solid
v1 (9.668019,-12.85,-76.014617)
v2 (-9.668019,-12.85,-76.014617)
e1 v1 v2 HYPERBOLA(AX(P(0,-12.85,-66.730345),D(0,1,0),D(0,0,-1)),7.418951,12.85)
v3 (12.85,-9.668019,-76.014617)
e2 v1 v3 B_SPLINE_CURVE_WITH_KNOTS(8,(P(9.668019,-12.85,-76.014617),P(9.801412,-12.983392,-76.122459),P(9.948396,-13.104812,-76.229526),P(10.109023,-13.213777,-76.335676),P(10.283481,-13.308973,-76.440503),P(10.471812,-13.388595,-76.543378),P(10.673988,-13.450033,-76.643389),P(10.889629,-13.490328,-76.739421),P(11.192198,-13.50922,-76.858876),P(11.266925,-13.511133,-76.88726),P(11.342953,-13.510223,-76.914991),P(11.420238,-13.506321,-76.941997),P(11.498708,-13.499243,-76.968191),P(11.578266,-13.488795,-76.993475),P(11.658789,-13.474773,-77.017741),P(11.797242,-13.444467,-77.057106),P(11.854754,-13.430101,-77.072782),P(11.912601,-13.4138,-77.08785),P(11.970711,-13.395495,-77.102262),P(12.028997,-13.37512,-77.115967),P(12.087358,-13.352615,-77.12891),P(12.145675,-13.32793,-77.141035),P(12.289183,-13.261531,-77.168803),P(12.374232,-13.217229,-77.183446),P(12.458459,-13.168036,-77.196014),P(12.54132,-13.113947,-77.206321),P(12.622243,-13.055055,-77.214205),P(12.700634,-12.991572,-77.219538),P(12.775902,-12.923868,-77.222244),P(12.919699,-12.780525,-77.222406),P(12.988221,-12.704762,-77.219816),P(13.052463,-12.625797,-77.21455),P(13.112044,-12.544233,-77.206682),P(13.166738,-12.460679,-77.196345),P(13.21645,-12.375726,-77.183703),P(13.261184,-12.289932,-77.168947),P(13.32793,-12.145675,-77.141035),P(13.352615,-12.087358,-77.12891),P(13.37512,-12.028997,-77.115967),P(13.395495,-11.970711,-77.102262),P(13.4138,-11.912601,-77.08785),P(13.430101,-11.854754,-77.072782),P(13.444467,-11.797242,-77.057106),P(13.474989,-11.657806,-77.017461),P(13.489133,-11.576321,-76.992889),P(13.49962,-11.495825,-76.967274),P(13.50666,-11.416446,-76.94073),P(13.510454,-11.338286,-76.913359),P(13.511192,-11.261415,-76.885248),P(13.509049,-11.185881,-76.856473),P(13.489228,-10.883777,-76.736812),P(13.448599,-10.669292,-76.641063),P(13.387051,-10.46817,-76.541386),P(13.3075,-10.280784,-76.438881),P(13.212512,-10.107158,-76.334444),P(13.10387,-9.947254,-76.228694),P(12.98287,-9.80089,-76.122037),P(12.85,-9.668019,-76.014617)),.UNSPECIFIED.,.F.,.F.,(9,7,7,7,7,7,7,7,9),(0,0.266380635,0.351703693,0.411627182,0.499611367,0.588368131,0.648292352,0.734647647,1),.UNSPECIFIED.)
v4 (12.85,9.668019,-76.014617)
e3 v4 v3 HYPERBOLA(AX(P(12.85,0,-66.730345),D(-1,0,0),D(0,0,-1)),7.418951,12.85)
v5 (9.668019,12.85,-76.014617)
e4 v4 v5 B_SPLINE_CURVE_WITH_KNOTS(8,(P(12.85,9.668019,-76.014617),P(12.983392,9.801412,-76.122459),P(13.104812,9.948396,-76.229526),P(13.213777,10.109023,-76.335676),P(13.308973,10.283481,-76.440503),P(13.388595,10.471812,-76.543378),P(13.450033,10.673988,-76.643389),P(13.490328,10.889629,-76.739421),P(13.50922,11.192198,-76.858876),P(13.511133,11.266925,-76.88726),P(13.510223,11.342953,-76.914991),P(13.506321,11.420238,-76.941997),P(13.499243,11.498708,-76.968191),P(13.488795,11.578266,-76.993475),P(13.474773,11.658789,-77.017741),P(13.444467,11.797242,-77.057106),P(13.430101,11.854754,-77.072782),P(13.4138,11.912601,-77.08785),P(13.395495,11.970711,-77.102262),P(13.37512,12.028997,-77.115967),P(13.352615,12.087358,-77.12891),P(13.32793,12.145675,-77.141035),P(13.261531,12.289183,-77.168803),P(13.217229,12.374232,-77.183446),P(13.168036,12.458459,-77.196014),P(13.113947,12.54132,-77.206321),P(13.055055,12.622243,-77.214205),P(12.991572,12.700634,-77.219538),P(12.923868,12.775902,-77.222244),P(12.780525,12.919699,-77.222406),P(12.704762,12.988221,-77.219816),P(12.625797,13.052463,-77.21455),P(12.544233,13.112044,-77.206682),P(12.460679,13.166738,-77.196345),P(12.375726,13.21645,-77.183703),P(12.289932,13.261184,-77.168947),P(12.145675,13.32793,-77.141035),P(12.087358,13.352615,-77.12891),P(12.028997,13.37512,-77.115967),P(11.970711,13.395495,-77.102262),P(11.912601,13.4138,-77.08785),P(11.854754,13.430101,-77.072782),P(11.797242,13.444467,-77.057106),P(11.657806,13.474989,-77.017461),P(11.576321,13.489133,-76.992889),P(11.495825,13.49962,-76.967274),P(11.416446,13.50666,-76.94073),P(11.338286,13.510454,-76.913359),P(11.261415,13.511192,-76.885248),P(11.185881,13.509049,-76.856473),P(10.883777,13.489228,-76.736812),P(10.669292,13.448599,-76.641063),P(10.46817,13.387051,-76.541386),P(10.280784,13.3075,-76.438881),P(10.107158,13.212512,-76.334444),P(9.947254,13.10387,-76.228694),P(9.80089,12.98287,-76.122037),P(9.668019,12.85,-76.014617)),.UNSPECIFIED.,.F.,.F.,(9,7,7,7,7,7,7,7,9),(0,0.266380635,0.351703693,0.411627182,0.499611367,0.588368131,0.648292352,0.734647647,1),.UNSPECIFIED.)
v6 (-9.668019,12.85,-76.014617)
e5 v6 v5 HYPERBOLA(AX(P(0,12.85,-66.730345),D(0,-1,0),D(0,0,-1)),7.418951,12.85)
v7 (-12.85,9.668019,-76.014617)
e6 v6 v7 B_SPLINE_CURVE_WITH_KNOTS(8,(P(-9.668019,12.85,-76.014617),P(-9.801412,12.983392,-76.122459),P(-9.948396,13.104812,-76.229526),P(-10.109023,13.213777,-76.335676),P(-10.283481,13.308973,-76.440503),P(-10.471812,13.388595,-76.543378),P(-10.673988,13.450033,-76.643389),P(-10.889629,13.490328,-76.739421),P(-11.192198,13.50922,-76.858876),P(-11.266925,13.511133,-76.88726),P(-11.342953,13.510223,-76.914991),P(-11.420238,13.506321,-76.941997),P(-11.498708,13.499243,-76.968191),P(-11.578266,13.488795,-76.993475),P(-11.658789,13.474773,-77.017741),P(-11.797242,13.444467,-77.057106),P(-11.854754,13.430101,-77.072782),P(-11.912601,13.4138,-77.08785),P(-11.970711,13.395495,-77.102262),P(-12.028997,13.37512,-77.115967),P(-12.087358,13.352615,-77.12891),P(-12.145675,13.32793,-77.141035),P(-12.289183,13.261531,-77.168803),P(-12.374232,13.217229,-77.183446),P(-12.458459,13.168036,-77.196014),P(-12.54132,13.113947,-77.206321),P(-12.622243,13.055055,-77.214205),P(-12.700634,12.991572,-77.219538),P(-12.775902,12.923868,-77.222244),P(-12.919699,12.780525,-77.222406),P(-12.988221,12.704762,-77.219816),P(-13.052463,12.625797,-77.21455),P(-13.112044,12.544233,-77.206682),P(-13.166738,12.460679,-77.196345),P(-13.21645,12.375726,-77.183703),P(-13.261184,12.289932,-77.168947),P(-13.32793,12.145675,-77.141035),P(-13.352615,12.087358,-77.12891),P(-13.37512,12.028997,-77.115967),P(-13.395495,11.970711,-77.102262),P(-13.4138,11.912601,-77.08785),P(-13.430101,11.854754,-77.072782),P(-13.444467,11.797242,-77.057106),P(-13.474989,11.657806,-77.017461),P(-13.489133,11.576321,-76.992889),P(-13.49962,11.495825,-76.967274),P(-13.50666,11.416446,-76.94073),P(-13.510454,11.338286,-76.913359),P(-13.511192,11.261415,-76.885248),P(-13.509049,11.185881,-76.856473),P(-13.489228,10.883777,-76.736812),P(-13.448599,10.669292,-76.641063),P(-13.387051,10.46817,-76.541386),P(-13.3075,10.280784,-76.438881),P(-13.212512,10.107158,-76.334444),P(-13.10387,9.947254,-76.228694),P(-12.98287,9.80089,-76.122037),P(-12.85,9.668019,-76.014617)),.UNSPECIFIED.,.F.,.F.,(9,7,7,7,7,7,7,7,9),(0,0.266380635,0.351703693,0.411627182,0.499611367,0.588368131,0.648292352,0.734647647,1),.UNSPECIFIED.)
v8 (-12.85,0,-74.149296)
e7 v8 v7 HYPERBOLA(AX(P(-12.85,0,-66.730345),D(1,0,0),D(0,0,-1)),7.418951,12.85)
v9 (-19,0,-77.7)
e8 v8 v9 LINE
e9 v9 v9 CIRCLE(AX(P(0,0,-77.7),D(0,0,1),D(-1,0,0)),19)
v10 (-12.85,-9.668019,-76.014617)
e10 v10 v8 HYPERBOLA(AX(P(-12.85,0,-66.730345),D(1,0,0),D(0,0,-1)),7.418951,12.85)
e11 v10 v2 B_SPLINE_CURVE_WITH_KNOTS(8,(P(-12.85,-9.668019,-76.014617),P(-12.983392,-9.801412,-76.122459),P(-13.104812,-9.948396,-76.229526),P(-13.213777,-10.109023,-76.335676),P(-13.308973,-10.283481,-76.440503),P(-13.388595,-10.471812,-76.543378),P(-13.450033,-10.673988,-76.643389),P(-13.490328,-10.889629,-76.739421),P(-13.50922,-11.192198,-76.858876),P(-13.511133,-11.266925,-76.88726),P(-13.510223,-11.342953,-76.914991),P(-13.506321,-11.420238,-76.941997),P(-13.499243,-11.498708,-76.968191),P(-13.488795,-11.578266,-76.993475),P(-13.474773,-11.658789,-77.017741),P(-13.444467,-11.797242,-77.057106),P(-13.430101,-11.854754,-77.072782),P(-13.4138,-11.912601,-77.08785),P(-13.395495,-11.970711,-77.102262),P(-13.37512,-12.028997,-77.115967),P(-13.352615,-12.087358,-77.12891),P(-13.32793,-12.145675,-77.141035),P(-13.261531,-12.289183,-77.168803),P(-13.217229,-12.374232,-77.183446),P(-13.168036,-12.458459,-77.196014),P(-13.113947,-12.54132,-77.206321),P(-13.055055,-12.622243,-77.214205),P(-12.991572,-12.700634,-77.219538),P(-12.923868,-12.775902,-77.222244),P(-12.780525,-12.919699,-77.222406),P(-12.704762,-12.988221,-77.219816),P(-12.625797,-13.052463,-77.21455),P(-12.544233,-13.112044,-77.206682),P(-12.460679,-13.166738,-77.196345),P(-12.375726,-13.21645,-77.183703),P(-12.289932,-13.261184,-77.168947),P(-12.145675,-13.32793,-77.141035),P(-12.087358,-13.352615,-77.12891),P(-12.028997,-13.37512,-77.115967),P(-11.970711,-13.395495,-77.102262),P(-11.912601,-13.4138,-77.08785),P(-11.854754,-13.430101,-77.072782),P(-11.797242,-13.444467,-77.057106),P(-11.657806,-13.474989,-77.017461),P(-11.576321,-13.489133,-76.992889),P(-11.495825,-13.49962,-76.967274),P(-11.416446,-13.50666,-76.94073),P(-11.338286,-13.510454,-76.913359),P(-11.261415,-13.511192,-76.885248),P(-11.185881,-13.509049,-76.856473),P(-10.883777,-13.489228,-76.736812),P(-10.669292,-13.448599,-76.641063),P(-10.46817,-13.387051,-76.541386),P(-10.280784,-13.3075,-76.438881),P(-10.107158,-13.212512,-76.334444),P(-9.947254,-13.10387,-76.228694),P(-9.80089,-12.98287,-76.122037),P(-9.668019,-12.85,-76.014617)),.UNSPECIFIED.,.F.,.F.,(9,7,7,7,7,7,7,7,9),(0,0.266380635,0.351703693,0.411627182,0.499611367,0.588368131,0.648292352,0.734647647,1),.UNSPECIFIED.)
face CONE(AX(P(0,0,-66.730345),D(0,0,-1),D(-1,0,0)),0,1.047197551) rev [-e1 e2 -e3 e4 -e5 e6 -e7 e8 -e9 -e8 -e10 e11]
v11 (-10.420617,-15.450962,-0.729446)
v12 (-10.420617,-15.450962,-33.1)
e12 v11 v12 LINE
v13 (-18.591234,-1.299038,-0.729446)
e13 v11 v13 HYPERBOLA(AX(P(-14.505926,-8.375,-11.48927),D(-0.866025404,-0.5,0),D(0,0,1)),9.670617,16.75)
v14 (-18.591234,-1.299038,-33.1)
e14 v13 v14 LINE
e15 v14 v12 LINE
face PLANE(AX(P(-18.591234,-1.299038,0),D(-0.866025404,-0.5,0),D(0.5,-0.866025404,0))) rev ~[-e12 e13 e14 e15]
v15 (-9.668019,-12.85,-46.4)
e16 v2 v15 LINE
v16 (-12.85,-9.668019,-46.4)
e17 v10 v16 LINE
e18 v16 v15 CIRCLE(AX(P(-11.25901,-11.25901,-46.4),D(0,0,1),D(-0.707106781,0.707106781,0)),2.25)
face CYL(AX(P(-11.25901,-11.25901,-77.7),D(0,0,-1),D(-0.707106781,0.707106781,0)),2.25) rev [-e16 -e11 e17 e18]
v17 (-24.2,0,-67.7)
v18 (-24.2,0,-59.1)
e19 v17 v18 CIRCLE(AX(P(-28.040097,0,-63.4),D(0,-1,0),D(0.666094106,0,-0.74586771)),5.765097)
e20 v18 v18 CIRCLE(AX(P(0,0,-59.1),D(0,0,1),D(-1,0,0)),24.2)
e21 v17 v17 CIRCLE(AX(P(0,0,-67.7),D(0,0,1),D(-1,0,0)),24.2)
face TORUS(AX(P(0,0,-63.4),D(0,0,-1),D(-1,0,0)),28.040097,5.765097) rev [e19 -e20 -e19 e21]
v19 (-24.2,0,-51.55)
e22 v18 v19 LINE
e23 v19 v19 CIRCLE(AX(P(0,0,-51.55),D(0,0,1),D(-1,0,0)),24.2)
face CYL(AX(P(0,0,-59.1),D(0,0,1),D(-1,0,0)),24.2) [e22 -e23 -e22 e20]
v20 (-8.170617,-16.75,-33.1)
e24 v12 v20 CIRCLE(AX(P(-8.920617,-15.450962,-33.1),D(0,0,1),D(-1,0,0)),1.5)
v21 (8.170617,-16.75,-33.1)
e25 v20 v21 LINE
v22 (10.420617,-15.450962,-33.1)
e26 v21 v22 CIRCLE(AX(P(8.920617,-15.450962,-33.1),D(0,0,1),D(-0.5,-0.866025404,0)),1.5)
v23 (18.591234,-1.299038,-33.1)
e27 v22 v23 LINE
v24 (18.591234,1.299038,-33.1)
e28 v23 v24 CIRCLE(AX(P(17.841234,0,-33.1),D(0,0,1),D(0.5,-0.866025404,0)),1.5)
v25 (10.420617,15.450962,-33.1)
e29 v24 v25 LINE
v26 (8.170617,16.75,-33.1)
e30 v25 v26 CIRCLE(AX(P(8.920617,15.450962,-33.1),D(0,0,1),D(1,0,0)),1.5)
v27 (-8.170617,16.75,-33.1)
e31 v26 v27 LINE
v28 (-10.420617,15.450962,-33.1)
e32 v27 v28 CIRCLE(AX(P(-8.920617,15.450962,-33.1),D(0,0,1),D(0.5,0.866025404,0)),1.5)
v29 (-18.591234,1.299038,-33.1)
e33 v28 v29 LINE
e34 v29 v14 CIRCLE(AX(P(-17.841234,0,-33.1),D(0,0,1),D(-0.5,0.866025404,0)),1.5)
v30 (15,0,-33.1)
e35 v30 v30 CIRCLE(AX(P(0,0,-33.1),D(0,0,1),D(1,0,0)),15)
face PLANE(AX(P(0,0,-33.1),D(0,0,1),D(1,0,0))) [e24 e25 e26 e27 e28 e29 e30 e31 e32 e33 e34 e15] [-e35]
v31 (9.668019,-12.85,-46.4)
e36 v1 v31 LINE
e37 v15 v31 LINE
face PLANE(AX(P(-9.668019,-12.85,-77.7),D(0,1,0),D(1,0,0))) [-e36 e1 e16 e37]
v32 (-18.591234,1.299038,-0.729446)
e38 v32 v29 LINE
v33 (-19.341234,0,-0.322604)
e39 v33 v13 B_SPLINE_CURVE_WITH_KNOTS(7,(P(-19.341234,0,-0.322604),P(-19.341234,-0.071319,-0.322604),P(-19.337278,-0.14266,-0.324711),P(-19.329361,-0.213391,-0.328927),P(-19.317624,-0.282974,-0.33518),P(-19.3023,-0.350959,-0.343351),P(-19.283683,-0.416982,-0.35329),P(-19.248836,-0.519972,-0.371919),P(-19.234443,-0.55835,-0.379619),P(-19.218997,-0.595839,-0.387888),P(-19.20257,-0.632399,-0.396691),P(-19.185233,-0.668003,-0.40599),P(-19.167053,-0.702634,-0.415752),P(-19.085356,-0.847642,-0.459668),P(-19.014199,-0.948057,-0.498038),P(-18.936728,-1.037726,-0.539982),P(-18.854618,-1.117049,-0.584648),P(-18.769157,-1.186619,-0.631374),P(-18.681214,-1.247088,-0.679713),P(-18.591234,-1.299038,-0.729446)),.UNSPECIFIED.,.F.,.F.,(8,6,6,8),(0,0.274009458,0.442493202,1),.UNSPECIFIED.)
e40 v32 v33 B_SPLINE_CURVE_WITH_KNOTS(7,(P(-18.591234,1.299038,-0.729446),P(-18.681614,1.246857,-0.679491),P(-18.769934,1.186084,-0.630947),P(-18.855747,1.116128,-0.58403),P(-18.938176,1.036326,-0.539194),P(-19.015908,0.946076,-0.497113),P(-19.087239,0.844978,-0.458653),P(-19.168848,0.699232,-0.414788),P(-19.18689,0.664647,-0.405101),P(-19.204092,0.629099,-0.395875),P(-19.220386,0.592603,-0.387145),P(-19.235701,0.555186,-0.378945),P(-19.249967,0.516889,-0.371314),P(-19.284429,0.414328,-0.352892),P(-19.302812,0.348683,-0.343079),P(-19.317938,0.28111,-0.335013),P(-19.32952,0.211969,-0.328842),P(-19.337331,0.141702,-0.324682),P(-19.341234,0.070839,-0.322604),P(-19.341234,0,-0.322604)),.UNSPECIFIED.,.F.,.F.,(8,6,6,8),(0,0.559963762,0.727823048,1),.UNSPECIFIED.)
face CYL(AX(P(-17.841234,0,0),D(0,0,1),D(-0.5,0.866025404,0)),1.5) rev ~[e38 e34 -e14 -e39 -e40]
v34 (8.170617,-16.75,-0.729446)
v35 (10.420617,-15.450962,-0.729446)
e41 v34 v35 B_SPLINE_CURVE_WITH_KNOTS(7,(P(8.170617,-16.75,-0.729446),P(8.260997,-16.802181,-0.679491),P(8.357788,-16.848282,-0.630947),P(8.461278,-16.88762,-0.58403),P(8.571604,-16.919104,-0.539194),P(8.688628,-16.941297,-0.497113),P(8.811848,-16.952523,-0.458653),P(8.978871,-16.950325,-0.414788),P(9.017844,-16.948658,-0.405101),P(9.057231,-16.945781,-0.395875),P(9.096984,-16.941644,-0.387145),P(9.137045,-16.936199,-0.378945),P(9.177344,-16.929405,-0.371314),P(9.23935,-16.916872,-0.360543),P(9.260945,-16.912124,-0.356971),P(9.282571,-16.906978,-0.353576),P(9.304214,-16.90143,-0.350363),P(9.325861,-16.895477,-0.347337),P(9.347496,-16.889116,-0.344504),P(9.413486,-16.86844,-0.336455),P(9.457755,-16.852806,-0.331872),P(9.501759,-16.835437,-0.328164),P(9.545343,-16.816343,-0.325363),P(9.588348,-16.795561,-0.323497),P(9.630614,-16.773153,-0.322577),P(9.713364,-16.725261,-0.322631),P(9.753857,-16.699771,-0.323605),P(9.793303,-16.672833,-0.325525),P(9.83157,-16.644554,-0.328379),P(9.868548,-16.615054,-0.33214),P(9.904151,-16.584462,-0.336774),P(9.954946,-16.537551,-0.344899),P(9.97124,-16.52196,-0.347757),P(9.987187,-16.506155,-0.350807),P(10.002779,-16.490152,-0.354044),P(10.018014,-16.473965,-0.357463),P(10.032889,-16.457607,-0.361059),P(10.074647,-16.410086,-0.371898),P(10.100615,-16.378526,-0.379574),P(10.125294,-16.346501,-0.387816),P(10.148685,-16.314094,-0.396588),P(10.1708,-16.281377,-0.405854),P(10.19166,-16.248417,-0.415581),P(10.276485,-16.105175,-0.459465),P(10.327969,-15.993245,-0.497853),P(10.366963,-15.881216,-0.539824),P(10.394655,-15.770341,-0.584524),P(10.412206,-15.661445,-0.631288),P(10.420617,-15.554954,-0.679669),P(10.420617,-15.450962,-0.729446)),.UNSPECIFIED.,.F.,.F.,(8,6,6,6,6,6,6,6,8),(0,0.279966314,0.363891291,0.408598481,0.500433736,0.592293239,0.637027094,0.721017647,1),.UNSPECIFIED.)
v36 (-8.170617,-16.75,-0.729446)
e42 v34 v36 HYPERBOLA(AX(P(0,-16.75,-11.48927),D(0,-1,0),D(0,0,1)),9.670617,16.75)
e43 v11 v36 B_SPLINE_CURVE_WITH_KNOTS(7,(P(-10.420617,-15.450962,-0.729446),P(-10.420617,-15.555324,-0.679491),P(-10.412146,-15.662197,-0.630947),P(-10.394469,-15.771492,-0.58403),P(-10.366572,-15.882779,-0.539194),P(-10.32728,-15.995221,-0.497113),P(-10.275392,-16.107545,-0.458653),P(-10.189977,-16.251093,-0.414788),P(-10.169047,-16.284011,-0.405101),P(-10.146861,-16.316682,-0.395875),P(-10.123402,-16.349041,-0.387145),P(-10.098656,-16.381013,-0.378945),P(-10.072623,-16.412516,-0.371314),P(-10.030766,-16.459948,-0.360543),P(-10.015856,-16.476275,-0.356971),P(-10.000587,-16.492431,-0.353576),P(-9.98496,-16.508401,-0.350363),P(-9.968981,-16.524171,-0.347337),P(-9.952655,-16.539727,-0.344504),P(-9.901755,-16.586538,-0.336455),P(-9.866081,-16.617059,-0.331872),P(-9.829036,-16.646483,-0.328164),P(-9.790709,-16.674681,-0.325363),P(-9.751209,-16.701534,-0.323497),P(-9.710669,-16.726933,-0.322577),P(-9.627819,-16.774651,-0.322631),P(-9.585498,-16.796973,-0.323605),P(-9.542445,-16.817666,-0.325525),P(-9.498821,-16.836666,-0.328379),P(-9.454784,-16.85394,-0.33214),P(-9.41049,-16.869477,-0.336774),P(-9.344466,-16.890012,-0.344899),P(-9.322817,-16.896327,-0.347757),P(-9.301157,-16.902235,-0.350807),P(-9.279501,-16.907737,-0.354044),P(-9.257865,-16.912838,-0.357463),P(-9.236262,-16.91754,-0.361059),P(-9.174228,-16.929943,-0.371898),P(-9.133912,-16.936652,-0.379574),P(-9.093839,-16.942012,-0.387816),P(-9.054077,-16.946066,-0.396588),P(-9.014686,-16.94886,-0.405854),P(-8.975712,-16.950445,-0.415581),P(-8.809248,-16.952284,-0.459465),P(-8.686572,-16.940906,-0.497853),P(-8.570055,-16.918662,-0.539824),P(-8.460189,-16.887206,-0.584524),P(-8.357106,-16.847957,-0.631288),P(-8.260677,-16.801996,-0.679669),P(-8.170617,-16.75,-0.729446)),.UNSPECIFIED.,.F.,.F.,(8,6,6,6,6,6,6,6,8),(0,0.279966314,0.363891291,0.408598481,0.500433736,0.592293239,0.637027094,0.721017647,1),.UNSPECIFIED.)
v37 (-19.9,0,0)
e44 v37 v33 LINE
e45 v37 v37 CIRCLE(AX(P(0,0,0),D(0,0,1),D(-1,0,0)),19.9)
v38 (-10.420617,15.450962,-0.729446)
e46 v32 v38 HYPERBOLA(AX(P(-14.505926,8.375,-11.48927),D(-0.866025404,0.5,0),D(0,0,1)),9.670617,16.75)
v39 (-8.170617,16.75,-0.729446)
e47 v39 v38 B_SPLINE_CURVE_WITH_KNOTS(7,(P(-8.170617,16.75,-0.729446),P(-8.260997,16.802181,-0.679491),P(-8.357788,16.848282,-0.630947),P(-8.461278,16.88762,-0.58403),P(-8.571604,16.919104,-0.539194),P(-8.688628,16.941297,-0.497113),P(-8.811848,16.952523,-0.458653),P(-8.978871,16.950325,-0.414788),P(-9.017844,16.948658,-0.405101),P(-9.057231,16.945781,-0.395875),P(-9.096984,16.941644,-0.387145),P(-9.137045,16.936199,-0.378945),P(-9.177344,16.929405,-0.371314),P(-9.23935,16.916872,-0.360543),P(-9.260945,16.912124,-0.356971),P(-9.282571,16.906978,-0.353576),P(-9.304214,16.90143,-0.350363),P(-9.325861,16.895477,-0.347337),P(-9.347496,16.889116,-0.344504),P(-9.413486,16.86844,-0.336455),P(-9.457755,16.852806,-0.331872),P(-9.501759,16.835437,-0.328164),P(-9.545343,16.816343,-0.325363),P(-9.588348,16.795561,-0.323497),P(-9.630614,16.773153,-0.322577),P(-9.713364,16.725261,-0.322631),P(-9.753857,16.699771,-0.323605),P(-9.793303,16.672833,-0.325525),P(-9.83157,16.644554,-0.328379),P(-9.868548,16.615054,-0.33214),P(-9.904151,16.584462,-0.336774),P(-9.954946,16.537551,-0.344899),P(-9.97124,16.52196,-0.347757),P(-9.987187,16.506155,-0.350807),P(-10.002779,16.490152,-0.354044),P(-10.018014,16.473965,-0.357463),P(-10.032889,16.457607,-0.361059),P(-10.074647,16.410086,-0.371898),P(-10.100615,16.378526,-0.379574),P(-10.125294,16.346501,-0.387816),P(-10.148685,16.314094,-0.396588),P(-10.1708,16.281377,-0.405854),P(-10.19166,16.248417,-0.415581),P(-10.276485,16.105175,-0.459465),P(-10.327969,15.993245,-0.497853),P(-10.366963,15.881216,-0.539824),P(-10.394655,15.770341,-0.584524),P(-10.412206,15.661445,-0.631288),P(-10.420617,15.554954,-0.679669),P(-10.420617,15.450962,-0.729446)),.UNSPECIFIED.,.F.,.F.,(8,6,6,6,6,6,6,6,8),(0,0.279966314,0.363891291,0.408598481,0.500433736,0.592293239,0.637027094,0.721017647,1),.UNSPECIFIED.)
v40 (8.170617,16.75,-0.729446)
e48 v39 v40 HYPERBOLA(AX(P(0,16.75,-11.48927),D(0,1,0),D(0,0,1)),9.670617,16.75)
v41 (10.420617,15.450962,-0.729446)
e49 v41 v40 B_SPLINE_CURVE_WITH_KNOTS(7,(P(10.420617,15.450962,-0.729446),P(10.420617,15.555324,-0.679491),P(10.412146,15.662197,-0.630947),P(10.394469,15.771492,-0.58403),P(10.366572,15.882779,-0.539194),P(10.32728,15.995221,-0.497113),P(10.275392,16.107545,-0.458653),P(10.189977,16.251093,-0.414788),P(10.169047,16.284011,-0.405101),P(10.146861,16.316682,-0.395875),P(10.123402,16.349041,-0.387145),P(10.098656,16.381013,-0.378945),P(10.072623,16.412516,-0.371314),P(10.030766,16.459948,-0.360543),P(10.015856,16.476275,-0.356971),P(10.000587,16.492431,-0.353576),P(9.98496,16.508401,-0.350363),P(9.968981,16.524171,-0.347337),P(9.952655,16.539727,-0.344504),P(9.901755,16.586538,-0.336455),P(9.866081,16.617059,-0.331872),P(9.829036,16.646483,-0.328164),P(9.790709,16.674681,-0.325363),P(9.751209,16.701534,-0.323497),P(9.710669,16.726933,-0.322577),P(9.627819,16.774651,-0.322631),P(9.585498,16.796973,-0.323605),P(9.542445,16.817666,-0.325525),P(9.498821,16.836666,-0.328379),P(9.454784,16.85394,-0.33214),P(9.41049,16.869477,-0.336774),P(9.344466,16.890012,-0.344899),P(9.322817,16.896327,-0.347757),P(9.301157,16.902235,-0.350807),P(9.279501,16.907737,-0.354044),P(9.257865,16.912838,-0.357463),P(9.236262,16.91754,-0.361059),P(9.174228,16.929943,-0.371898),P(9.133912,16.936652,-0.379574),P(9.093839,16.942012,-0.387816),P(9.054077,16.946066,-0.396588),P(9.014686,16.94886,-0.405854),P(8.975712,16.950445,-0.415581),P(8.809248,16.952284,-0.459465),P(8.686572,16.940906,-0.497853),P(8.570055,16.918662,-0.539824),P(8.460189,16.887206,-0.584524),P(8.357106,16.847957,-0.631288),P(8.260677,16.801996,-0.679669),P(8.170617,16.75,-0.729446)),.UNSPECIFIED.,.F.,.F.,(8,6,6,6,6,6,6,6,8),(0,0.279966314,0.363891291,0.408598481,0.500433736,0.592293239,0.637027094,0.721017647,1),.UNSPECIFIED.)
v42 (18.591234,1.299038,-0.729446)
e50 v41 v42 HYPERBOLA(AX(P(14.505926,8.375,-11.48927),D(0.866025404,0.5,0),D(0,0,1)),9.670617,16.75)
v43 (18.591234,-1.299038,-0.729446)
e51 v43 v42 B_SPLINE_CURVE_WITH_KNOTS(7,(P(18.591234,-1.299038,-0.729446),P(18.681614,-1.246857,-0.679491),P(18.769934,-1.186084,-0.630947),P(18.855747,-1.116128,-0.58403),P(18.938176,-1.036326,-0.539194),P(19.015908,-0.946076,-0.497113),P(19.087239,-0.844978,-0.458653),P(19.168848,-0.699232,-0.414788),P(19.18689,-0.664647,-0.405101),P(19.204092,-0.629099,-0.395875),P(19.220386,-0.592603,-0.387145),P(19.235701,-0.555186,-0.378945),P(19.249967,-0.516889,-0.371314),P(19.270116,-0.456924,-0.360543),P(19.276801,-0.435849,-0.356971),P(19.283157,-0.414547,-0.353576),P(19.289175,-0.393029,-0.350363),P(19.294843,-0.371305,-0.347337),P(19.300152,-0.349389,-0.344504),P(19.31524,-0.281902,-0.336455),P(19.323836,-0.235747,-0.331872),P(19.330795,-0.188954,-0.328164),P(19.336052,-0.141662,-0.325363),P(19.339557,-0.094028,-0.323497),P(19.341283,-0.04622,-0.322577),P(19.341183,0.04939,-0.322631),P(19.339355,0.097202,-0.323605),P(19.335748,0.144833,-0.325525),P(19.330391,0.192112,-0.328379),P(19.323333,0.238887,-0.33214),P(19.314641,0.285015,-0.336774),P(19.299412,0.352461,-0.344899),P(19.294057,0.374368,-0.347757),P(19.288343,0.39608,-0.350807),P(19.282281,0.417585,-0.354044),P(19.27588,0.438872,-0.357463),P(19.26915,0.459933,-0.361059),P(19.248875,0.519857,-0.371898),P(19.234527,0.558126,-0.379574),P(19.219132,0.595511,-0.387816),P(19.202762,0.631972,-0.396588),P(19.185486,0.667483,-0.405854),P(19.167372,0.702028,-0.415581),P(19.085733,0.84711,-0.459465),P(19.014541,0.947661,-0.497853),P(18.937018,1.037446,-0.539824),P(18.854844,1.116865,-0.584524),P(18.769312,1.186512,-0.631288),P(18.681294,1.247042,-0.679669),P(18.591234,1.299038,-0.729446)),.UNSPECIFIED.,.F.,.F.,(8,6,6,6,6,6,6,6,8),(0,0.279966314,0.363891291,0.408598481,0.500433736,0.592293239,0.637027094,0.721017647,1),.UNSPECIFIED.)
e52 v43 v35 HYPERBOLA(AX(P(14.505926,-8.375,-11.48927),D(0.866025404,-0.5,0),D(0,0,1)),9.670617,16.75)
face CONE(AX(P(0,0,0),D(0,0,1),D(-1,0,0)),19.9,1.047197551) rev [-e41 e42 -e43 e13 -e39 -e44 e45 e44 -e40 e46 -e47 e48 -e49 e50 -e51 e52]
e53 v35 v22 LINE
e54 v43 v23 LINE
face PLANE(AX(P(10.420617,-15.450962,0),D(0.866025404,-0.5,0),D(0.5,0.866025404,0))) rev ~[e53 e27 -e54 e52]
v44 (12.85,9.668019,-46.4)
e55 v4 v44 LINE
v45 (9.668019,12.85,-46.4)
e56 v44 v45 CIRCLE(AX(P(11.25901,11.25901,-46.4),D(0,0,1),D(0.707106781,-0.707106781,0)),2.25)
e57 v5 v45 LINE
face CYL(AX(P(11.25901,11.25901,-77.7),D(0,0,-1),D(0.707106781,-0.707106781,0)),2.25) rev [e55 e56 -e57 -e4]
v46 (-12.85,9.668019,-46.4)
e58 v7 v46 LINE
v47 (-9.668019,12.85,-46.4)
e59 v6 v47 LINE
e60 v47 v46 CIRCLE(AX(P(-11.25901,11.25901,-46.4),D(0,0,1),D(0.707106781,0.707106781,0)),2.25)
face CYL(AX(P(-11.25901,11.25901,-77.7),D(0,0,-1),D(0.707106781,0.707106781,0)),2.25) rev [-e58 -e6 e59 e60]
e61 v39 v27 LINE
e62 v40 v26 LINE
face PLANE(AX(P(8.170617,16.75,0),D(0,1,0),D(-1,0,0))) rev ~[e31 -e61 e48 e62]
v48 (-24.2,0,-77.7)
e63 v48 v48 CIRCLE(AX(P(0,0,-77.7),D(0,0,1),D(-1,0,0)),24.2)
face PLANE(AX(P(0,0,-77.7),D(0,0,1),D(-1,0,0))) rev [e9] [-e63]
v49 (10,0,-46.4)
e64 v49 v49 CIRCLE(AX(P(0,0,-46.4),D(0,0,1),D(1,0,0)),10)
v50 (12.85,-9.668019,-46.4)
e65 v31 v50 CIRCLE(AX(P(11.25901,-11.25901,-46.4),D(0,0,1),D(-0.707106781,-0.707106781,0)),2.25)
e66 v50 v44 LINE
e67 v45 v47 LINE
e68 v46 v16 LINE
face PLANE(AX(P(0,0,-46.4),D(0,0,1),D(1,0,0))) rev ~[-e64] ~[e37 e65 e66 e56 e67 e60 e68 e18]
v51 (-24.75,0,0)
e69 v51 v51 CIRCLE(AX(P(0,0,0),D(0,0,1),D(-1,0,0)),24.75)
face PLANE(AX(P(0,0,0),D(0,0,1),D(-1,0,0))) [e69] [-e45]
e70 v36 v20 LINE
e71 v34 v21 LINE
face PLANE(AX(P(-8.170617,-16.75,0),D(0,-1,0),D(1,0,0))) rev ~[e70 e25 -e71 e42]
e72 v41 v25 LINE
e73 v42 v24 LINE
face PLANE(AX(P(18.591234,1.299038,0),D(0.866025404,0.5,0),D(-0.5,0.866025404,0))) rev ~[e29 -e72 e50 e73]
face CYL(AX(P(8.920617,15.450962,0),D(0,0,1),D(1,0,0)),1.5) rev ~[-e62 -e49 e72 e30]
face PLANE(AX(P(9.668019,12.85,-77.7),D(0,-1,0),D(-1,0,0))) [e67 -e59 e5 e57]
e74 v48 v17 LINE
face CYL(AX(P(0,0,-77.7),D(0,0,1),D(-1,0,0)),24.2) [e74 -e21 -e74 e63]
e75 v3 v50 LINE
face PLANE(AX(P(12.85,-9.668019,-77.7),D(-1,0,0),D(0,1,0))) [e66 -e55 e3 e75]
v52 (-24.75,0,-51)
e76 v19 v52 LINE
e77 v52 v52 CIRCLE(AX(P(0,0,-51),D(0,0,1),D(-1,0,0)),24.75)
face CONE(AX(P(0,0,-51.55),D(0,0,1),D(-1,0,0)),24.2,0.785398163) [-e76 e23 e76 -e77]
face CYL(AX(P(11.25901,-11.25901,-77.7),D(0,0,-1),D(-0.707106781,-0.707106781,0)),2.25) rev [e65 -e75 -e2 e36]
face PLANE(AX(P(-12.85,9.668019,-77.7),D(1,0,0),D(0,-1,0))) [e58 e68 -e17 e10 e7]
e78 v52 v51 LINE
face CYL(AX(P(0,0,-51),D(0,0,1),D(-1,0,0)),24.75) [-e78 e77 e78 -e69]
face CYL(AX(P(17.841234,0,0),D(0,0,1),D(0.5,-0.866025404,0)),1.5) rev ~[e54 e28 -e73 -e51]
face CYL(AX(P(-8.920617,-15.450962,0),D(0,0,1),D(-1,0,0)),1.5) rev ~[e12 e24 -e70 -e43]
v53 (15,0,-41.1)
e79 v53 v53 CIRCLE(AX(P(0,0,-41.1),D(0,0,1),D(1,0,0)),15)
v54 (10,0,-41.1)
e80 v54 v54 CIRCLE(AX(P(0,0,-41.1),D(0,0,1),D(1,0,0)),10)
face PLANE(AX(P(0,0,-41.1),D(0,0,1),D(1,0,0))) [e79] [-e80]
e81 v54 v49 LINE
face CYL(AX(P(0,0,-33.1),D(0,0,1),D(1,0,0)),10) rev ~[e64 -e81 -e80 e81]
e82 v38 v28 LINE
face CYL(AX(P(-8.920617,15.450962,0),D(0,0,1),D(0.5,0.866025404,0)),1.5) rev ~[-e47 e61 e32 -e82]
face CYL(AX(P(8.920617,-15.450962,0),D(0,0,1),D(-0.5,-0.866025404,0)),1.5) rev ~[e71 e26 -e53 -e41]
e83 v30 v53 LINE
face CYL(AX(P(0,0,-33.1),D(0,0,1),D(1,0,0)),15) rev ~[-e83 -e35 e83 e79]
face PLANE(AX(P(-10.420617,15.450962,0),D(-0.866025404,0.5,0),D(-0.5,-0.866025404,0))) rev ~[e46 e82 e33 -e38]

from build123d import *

# Parameters (mm, degrees)
CUT_EXTRUDE1_DEPTH = 33.1
SKETCH3_R          = 10
CUT_EXTRUDE2_DEPTH = 30
CUT_EXTRUDE3_DEPTH = 31.3
SKETCH5_R          = 15
CUT_EXTRUDE4_DEPTH = 8


with BuildPart() as part:
    # Sketch1 → Revolve1 (revolve)
    with BuildSketch(Plane(origin=(0, 0, 0), x_dir=(0, 0, -1), z_dir=(1, 0, 0)), mode=Mode.PRIVATE) as revolve1_sk:
        with BuildLine():
            Line((0, 24.75), (0, 19.9))
            Line((0, 19.9), (11.489270357, 0))
            Line((11.489270357, 0), (66.730344885, 0))
            Line((66.730344885, 0), (77.7, 19))
            Line((77.7, 19), (77.7, 24.2))
            Line((77.7, 24.2), (67.7, 24.2))
            ThreePointArc((67.7, 24.2), (63.4, 22.275), (59.1, 24.2))
            Line((59.1, 24.2), (51.55, 24.2))
            Line((51.55, 24.2), (51, 24.75))
            Line((51, 24.75), (0, 24.75))
        make_face()
    revolve(revolve1_sk.sketch.rotate(Axis((0, 0, 0), (0, 0, 1)), 90), axis=Axis((0, 0, 0), (0, 0, 1)))

    # Sketch2 → Cut-Extrude1 (cut)
    with BuildSketch(Plane.XY):
        with BuildLine():
            Line((-10.420617009, 15.450961894), (-18.591234018, 1.299038106))
            ThreePointArc((-18.591234018, 1.299038106), (-19.341234018, 0), (-18.591234018, -1.299038106))
            Line((-18.591234018, -1.299038106), (-10.420617009, -15.450961894))
            ThreePointArc((-10.420617009, -15.450961894), (-9.670617009, -16.75), (-8.170617009, -16.75))
            Line((-8.170617009, -16.75), (8.170617009, -16.75))
            ThreePointArc((8.170617009, -16.75), (9.670617009, -16.75), (10.420617009, -15.450961894))
            Line((10.420617009, -15.450961894), (18.591234018, -1.299038106))
            ThreePointArc((18.591234018, -1.299038106), (19.341234018, 0), (18.591234018, 1.299038106))
            Line((18.591234018, 1.299038106), (10.420617009, 15.450961894))
            ThreePointArc((10.420617009, 15.450961894), (9.670617009, 16.75), (8.170617009, 16.75))
            Line((8.170617009, 16.75), (-8.170617009, 16.75))
            ThreePointArc((-8.170617009, 16.75), (-9.670617009, 16.75), (-10.420617009, 15.450961894))
        make_face()
    extrude(amount=-CUT_EXTRUDE1_DEPTH, mode=Mode.SUBTRACT)

    # Sketch3 → Cut-Extrude2 (cut)
    with BuildSketch(Plane.XY.offset(-33.1)):
        Circle(SKETCH3_R)
    extrude(amount=-CUT_EXTRUDE2_DEPTH, mode=Mode.SUBTRACT)

    # Sketch4 → Cut-Extrude3 (cut)
    with BuildSketch(Plane(origin=(0, 0, -77.7), x_dir=(-1, 0, 0), z_dir=(0, 0, -1))):
        with BuildLine():
            Line((-12.85, -9.668019485), (-12.85, 9.668019485))
            ThreePointArc((-12.85, 9.668019485), (-12.85, 12.85), (-9.668019485, 12.85))
            Line((-9.668019485, 12.85), (9.668019485, 12.85))
            ThreePointArc((9.668019485, 12.85), (12.85, 12.85), (12.85, 9.668019485))
            Line((12.85, 9.668019485), (12.85, -9.668019485))
            ThreePointArc((12.85, -9.668019485), (12.85, -12.85), (9.668019485, -12.85))
            Line((9.668019485, -12.85), (-9.668019485, -12.85))
            ThreePointArc((-9.668019485, -12.85), (-12.85, -12.85), (-12.85, -9.668019485))
        make_face()
    extrude(amount=-CUT_EXTRUDE3_DEPTH, mode=Mode.SUBTRACT)

    # Sketch5 → Cut-Extrude4 (cut)
    with BuildSketch(Plane.XY.offset(-33.1)):
        Circle(SKETCH5_R)
    extrude(amount=-CUT_EXTRUDE4_DEPTH, mode=Mode.SUBTRACT)


solid = part.part
